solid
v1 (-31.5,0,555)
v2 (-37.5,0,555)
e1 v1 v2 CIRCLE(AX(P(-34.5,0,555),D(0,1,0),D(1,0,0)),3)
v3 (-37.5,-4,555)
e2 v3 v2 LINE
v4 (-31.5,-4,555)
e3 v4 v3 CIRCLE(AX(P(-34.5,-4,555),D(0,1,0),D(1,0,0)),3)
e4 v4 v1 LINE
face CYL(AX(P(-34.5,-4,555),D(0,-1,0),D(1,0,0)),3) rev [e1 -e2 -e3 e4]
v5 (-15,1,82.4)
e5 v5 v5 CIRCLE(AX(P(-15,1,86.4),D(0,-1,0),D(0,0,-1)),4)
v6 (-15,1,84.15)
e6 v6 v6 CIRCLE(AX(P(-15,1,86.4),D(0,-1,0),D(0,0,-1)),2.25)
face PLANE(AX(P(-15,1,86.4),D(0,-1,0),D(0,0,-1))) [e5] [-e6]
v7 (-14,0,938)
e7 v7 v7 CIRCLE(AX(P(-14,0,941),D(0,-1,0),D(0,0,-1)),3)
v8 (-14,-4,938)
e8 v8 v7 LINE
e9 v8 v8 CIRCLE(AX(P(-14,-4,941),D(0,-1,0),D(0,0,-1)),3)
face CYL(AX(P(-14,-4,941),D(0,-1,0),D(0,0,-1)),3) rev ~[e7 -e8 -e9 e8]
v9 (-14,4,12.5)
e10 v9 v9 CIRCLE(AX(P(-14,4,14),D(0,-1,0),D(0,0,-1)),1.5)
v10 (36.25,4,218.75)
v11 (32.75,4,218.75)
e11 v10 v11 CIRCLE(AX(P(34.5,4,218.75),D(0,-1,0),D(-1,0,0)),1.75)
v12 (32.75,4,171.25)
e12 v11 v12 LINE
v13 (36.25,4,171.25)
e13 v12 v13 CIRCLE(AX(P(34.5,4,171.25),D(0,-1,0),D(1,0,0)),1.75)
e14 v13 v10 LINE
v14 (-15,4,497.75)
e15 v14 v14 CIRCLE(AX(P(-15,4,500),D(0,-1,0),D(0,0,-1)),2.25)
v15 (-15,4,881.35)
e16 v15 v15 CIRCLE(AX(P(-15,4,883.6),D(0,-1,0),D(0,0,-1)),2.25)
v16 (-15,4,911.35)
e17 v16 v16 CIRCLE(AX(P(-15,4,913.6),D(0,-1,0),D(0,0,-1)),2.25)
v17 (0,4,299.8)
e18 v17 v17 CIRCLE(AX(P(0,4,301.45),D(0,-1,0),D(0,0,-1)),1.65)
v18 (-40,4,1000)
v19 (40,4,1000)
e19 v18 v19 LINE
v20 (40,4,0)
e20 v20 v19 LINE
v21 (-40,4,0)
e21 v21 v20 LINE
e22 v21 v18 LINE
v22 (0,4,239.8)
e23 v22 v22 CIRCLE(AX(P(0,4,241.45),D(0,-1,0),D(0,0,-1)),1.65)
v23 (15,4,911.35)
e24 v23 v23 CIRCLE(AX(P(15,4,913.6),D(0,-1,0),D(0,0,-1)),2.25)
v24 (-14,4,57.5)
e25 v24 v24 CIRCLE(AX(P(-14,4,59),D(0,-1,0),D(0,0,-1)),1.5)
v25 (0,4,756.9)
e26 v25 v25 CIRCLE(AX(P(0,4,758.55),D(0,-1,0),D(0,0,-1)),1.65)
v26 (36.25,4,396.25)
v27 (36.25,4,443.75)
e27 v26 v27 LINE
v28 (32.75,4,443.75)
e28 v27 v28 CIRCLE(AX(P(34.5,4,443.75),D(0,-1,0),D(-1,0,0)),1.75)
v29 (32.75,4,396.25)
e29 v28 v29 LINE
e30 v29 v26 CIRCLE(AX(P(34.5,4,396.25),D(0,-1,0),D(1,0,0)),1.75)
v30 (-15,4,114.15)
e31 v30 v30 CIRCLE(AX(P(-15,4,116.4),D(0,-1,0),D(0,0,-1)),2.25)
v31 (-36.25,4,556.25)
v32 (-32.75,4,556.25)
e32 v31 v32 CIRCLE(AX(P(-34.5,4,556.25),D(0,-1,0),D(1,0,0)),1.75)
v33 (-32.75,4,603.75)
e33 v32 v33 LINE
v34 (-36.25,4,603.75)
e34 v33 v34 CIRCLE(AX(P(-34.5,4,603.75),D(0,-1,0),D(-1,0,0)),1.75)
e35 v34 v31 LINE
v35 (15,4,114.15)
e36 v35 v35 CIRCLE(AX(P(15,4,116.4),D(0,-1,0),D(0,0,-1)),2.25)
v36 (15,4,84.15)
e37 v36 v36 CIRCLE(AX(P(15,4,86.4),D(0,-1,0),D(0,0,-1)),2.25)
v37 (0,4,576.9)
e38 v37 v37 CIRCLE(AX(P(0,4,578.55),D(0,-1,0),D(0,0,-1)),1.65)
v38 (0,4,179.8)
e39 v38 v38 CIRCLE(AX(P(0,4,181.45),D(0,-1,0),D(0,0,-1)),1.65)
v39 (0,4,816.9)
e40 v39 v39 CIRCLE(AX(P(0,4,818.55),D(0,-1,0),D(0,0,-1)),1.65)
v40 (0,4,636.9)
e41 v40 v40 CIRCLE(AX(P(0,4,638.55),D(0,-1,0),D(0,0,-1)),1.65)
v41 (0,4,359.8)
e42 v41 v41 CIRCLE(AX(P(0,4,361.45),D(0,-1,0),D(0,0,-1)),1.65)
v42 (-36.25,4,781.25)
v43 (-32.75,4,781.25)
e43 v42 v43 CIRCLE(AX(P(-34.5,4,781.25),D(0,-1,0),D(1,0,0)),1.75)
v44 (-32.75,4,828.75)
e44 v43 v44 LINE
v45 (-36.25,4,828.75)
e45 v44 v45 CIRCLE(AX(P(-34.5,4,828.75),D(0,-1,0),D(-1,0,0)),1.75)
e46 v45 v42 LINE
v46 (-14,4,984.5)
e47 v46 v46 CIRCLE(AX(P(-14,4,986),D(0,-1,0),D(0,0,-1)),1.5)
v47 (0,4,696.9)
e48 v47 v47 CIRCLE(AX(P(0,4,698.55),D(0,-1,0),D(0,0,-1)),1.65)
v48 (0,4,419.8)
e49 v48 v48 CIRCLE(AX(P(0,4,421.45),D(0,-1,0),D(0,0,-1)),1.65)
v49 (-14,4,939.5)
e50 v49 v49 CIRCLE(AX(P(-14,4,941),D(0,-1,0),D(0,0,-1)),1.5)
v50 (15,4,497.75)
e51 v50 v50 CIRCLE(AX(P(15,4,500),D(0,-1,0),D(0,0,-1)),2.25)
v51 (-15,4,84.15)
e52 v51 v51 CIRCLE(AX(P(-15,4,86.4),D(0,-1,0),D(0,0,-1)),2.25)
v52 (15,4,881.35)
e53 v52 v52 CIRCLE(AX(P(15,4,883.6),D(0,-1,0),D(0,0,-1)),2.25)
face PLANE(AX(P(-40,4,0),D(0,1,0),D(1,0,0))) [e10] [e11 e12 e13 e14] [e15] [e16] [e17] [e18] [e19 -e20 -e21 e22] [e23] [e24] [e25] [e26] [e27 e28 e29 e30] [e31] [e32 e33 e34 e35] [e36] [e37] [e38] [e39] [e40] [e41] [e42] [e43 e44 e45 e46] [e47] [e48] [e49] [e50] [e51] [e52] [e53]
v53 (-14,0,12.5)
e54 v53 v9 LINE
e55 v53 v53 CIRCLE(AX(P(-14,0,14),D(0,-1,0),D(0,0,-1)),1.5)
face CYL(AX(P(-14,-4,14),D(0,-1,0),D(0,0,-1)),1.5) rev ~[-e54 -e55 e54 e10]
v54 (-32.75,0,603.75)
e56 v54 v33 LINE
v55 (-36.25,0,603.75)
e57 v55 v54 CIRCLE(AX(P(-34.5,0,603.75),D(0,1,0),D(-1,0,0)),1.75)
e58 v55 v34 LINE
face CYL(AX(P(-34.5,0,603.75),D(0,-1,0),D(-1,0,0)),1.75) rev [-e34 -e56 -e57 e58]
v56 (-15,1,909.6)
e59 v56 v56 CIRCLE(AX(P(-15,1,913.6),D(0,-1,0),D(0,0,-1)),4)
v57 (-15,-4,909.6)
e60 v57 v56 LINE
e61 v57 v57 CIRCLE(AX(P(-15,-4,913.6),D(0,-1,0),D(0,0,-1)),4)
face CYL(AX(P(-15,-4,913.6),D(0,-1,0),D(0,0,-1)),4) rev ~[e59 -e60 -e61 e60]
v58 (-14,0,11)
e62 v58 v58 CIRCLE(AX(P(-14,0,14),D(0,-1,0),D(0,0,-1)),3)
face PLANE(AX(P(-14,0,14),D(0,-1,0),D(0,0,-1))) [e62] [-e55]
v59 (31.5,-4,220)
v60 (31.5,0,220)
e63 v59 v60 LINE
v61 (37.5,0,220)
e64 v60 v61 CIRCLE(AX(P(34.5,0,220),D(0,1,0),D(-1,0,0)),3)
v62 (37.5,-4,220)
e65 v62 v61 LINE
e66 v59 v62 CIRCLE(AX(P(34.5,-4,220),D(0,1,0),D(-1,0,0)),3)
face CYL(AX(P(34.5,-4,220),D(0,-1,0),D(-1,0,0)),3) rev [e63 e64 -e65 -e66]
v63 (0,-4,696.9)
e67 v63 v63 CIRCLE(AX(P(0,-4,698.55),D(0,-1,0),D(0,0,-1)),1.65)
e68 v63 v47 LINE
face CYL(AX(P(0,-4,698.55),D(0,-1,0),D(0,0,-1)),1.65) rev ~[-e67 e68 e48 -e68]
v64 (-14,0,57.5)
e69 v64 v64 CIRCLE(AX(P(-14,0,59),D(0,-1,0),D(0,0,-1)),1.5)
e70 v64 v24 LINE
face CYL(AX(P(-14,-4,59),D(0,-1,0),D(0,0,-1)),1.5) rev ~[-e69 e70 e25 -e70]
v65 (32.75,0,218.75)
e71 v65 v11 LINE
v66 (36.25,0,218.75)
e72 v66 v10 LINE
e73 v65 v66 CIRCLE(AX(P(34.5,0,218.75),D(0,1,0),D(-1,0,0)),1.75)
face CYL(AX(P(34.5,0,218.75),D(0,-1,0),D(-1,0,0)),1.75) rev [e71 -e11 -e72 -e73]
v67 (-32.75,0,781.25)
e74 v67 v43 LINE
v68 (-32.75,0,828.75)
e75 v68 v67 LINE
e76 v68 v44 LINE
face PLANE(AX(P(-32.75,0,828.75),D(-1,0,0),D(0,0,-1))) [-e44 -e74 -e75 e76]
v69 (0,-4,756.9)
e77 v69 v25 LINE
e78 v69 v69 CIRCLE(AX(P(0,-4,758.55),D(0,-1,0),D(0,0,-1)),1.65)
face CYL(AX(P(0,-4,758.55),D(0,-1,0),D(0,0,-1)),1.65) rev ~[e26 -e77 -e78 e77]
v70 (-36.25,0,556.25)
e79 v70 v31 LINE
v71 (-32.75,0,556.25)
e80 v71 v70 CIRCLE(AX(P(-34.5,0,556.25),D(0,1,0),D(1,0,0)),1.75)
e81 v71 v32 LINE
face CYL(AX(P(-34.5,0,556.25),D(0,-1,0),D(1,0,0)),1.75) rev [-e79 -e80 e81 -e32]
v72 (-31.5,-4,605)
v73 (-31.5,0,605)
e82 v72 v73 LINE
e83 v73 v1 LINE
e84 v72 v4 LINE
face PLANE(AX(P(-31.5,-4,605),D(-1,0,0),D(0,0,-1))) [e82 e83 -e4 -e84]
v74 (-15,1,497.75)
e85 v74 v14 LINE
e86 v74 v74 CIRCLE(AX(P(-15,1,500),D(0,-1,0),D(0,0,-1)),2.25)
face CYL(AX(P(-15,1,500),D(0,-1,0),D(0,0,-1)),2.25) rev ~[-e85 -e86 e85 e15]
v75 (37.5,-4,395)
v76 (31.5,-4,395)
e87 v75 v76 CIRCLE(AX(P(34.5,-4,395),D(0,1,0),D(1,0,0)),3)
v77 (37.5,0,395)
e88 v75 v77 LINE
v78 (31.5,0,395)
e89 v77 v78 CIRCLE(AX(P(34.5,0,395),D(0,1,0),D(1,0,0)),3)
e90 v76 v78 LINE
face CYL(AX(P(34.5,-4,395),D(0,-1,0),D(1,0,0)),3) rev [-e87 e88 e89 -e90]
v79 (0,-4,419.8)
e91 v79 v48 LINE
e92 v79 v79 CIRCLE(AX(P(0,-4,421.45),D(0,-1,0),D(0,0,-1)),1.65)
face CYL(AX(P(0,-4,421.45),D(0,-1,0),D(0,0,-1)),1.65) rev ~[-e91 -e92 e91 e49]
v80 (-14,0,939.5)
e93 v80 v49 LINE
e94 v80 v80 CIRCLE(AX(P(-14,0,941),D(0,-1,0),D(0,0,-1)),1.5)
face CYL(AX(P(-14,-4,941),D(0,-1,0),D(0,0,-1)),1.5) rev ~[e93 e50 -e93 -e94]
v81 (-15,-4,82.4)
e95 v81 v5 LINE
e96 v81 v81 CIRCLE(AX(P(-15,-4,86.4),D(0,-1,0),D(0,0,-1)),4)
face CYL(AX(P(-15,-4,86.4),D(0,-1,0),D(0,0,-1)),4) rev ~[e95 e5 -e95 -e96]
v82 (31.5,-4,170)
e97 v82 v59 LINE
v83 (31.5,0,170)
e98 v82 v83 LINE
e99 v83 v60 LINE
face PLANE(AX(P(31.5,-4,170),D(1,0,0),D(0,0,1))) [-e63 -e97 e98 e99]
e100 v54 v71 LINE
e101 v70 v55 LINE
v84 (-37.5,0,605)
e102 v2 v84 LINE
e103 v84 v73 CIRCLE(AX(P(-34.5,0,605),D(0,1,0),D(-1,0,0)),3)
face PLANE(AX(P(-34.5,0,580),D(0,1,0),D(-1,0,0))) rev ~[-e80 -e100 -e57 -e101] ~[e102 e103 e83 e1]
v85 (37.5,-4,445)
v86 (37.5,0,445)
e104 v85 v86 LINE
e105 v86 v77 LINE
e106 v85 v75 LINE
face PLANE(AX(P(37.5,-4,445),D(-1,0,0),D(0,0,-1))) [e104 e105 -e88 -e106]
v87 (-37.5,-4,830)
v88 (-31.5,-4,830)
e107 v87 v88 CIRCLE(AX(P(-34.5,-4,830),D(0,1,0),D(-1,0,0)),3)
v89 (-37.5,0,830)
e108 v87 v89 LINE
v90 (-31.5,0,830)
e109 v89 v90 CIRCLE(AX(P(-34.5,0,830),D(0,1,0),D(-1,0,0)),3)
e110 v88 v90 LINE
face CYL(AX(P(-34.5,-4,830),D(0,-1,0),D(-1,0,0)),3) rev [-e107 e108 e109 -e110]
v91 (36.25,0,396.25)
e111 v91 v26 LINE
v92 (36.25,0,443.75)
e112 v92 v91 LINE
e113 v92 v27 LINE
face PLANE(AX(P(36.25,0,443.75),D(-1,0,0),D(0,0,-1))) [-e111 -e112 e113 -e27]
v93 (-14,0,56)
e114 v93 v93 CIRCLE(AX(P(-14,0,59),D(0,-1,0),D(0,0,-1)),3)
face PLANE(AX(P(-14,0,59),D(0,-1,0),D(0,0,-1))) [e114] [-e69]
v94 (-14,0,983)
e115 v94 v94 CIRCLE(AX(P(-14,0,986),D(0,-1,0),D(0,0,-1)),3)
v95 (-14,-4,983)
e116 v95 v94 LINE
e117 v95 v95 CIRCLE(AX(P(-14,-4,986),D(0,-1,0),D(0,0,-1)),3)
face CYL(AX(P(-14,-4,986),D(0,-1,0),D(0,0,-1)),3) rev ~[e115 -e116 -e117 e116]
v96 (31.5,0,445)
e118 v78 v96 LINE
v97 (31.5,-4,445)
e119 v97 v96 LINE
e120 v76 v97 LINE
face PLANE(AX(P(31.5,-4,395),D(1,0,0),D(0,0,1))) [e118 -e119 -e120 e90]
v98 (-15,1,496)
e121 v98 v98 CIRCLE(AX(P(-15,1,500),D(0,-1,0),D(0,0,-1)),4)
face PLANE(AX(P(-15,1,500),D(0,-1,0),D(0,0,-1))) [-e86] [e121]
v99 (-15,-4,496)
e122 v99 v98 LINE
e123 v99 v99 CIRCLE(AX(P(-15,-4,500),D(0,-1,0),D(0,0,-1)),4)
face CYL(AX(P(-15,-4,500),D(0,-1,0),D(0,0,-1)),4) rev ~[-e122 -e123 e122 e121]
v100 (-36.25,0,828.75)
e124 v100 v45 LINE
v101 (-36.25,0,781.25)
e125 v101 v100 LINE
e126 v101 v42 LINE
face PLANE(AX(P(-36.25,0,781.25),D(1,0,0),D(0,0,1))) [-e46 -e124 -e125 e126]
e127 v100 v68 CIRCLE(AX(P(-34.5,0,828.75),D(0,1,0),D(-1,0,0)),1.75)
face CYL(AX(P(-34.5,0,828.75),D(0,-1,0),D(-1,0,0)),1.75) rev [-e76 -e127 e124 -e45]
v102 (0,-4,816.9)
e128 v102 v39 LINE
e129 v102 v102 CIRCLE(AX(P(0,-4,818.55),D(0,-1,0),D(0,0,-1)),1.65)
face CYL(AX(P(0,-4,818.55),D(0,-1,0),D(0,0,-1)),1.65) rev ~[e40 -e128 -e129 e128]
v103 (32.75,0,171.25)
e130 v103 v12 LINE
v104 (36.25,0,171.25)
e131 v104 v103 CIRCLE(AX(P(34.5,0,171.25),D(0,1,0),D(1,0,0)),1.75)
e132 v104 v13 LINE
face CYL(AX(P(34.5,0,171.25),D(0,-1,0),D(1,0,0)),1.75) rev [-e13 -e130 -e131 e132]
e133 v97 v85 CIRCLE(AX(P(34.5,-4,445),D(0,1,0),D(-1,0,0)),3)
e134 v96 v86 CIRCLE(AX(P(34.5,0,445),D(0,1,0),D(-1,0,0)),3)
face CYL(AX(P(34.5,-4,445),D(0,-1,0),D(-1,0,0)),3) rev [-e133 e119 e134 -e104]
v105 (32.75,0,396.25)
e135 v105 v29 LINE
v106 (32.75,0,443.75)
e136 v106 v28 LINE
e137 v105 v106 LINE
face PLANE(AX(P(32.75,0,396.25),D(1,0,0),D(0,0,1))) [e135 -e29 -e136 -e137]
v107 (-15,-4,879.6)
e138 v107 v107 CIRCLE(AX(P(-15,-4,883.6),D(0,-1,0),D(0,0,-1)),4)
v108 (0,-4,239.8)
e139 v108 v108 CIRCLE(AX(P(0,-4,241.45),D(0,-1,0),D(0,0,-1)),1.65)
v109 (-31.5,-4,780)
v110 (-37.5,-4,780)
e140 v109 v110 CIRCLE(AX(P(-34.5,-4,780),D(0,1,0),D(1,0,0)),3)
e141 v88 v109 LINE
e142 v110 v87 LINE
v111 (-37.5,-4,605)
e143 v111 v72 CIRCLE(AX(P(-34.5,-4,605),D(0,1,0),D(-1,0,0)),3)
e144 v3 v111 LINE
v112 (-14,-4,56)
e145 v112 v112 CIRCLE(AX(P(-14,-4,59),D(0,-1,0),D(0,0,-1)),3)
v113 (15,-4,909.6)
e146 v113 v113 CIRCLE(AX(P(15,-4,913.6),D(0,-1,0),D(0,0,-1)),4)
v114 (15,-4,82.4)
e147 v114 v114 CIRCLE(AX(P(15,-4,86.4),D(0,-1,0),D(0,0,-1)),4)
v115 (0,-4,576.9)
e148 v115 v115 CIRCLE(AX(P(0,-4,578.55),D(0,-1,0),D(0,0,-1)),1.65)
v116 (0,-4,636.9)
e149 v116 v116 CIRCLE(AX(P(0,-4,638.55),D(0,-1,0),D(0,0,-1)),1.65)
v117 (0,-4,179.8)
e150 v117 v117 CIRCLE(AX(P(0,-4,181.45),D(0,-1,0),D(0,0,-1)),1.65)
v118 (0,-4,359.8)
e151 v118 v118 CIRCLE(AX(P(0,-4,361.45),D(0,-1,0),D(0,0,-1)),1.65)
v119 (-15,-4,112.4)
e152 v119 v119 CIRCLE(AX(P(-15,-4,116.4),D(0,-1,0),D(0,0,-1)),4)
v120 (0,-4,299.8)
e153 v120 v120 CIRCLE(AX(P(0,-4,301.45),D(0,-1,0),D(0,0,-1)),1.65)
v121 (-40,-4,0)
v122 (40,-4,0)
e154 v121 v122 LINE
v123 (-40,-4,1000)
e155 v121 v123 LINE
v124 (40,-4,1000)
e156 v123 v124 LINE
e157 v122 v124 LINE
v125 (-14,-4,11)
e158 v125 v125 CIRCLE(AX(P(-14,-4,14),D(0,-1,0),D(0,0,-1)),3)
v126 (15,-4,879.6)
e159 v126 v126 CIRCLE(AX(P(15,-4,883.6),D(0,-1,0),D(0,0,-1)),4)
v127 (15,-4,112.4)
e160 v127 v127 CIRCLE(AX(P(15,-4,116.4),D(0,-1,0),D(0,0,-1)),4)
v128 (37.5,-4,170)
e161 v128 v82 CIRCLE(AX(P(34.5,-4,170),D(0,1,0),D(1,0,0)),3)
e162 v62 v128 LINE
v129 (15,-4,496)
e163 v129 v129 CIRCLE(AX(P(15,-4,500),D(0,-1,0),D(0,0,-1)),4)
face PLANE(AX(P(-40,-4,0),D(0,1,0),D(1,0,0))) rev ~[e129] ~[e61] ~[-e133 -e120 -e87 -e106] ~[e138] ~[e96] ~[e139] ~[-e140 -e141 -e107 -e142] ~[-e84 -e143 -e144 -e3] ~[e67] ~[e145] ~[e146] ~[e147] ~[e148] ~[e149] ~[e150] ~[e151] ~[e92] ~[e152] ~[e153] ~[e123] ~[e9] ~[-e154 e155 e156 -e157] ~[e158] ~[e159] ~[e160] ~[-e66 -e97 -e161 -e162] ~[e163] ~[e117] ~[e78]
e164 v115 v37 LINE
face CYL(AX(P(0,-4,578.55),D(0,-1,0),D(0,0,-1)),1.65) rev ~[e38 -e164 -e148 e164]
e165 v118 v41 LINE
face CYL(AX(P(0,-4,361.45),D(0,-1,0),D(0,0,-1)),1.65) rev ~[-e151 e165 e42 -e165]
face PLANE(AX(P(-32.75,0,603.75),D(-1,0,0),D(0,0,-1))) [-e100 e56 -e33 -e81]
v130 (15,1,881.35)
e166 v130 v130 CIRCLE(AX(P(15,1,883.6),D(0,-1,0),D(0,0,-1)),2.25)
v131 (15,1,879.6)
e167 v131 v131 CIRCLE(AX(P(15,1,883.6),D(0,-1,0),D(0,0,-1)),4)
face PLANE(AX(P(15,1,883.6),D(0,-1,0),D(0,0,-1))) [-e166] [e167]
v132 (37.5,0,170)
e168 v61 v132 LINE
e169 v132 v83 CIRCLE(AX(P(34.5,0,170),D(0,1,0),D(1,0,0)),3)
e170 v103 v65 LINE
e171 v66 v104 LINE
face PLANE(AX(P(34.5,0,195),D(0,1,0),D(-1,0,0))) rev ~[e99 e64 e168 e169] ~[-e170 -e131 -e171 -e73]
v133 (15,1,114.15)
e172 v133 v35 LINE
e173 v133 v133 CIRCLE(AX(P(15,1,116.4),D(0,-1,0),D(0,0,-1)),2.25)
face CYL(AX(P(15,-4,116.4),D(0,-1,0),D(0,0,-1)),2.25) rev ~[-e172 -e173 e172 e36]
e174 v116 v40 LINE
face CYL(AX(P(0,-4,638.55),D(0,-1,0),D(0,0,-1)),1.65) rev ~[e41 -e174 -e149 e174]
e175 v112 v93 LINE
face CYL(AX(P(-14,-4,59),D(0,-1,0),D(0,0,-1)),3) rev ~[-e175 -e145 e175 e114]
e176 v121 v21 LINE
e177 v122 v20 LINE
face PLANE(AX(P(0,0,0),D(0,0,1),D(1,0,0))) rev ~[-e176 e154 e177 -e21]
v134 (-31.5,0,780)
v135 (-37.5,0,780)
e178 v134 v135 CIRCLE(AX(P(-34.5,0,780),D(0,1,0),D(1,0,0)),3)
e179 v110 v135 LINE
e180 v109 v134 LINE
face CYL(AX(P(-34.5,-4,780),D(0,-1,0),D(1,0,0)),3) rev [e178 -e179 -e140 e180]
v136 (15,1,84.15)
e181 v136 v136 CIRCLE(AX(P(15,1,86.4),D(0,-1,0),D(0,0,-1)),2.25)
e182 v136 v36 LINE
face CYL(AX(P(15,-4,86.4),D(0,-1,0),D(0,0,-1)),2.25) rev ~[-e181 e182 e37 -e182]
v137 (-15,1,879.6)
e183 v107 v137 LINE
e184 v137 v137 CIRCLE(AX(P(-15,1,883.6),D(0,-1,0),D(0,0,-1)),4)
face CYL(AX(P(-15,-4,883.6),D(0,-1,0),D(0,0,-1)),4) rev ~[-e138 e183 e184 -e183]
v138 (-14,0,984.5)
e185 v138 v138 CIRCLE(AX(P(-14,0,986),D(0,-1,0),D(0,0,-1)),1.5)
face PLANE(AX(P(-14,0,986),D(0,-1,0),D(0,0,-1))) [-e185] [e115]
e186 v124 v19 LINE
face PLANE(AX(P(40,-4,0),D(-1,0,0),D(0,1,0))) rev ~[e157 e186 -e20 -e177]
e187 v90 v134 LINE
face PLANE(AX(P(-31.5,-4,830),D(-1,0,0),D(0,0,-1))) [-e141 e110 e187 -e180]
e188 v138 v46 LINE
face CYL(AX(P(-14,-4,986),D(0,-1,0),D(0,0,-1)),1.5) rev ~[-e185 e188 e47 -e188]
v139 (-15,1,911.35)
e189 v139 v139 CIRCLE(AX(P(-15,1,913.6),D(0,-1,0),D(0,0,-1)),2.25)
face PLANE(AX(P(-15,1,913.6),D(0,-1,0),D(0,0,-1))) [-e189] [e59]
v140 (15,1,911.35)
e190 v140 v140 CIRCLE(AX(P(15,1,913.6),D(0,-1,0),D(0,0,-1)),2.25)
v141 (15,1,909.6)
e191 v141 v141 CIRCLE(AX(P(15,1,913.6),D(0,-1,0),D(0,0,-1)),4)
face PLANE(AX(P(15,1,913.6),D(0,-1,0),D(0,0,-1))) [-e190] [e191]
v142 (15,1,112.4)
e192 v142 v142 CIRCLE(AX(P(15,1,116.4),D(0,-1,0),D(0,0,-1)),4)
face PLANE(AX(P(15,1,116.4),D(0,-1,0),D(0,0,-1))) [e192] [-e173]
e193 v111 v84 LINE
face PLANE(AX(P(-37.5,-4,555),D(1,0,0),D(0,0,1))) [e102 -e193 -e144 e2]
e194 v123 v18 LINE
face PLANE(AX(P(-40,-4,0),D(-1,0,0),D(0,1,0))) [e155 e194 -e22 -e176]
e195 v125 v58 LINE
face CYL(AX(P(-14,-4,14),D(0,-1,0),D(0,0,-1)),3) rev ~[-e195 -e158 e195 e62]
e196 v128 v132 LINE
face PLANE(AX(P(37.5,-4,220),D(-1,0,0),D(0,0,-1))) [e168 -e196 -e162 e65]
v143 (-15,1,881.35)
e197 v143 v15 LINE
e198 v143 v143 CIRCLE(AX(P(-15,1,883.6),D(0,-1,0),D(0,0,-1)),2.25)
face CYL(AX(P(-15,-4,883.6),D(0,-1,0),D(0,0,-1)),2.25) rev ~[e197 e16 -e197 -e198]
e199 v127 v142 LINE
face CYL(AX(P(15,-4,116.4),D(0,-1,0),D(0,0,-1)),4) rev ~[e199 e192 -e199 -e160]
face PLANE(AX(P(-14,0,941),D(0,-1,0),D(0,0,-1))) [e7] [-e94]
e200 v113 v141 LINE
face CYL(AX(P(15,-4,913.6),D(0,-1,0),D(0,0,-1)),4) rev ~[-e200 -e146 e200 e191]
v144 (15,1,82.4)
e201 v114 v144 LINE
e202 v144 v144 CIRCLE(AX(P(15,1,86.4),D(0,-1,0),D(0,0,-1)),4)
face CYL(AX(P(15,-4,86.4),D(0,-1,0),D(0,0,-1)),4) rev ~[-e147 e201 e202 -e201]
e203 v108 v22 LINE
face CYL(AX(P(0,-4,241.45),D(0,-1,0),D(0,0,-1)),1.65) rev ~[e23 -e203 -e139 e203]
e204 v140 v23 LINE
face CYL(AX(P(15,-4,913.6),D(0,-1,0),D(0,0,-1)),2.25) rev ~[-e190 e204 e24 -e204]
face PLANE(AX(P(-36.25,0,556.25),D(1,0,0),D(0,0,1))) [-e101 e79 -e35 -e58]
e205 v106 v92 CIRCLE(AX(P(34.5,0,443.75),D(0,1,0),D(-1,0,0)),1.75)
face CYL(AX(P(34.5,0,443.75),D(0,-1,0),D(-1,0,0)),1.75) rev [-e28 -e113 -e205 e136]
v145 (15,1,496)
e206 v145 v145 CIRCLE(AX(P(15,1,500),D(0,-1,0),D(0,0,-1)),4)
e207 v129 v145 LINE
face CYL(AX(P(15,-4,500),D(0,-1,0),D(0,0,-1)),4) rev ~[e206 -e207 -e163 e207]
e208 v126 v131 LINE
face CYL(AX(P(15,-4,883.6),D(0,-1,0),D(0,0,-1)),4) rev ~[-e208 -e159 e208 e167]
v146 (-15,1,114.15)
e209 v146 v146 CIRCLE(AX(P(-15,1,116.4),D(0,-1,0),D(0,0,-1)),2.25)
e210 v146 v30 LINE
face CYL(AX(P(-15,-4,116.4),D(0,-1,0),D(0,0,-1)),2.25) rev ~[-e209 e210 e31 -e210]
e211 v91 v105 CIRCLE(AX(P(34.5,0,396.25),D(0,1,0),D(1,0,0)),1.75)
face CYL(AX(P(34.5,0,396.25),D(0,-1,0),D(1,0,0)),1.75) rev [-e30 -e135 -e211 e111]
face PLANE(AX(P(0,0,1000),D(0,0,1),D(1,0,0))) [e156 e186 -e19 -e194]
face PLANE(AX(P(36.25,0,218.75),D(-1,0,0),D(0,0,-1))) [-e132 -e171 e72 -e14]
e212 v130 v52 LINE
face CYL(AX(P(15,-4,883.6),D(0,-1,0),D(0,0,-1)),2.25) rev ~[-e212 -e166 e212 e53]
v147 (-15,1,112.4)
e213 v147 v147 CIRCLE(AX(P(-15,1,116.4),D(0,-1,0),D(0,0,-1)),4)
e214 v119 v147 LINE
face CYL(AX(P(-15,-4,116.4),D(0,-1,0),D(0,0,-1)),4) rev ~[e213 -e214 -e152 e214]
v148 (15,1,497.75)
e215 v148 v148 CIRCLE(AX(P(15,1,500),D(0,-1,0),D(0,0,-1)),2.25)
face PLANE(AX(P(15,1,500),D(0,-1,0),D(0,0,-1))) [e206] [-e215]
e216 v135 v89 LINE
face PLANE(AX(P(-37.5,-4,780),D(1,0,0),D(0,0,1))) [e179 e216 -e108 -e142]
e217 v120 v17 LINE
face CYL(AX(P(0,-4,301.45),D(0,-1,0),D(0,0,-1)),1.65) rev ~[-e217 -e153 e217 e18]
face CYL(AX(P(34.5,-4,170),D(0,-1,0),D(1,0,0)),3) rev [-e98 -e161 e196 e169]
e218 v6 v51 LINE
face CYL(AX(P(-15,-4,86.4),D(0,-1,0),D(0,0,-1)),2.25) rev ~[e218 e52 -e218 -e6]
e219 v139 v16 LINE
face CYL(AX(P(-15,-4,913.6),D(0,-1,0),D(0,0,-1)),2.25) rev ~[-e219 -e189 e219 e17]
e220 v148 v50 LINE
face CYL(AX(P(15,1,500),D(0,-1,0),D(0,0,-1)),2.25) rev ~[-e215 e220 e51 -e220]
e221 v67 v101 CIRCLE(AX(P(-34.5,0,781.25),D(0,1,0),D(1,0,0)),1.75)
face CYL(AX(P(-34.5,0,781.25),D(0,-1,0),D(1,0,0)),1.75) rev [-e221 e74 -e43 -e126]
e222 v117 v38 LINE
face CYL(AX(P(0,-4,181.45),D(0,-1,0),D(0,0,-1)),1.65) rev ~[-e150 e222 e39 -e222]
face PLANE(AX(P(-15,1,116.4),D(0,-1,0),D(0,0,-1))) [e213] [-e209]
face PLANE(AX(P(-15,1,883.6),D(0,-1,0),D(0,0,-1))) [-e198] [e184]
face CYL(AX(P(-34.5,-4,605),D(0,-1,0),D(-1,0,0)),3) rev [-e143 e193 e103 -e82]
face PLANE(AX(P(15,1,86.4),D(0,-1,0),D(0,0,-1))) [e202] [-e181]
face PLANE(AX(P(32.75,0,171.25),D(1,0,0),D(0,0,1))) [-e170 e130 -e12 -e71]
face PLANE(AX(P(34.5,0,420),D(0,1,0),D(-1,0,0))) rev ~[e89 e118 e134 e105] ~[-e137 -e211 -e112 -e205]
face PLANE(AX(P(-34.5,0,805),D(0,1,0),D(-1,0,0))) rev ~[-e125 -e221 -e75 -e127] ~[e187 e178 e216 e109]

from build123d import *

# Parameters (mm, degrees)
SKETCH_1_W                  = 80
SKETCH_1_H                  = 8
EXTRUDE_1_DEPTH             = 1000
SKETCH_3_R                  = 4
CUT_EXTRUDE_1_DEPTH         = 5
SKETCH_4_R                  = 2.25
CUT_EXTRUDE_2_DEPTH         = 5
SKETCH_5_R                  = 2.25
CUT_EXTRUDE_3_DEPTH         = 8
PATTERN_LINEAR_1_COUNT      = 2
PATTERN_LINEAR_1_PITCH      = 30
PATTERN_LINEAR_1_COUNT_DIR2 = 2
PATTERN_LINEAR_1_PITCH_DIR2 = 30
SKETCH_6_R                  = 4
CUT_EXTRUDE_4_DEPTH         = 5
PATTERN_LINEAR_2_COUNT      = 2
PATTERN_LINEAR_2_PITCH      = 30
PATTERN_LINEAR_2_COUNT_DIR2 = 2
PATTERN_LINEAR_2_PITCH_DIR2 = 30
SKETCH_7_R                  = 2.25
CUT_EXTRUDE_5_DEPTH         = 8
PATTERN_LINEAR_3_COUNT      = 2
PATTERN_LINEAR_3_PITCH      = 30
PATTERN_LINEAR_3_COUNT_DIR2 = 2
PATTERN_LINEAR_3_PITCH_DIR2 = 30
SKETCH_8_R                  = 4
CUT_EXTRUDE_6_DEPTH         = 5
PATTERN_LINEAR_4_COUNT      = 2
PATTERN_LINEAR_4_PITCH      = 30
PATTERN_LINEAR_4_COUNT_DIR2 = 2
PATTERN_LINEAR_4_PITCH_DIR2 = 30
CUT_EXTRUDE_8_DEPTH         = 4
CUT_EXTRUDE_9_DEPTH         = 5
PATTERN_LINEAR_6_COUNT      = 2
PATTERN_LINEAR_6_PITCH      = 225
PATTERN_LINEAR_6_COL_COUNT  = 2
PATTERN_LINEAR_6_COL_PITCH  = 225
SKETCH_13_R                 = 1.5
CUT_EXTRUDE_10_DEPTH        = 8
SKETCH_14_R                 = 3
CUT_EXTRUDE_11_DEPTH        = 4
PATTERN_LINEAR_8_COUNT      = 2
PATTERN_LINEAR_8_PITCH      = 927
SKETCH_15_R                 = 1.65
CUT_EXTRUDE_12_DEPTH        = 10
PATTERN_LINEAR_9_COUNT      = 5
PATTERN_LINEAR_9_PITCH      = 60
SKETCH_16_R                 = 1.65
CUT_EXTRUDE_13_DEPTH        = 10
PATTERN_LINEAR_10_COUNT     = 5
PATTERN_LINEAR_10_PITCH     = 60


with BuildPart() as part:
    # Эскиз1 → Бобышка-Вытянуть1 (new body)
    with BuildSketch(Plane.XY):
        Rectangle(SKETCH_1_W, SKETCH_1_H)
    extrude(amount=EXTRUDE_1_DEPTH)

    # Эскиз3 → Вырез-Вытянуть1 (cut)
    with BuildSketch(Plane.XZ.offset(4)):
        with Locations(Location((15, 500, 0), (0, 0, 270))):
            Circle(SKETCH_3_R)
        with Locations(Location((-15, 500, 0), (0, 0, 270))):
            Circle(SKETCH_3_R)
    extrude(amount=-CUT_EXTRUDE_1_DEPTH, mode=Mode.SUBTRACT)

    # Эскиз4 → Вырез-Вытянуть2 (cut)
    with BuildSketch(Plane.XZ.offset(-1)):
        with Locations(Location((-15, 500, 0), (0, 0, 270))):
            Circle(SKETCH_4_R)
        with Locations(Location((15, 500, 0), (0, 0, 270))):
            Circle(SKETCH_4_R)
    extrude(amount=-CUT_EXTRUDE_2_DEPTH, mode=Mode.SUBTRACT)

    # Эскиз5 → Вырез-Вытянуть3 (cut)
    with BuildSketch(Plane.XZ.offset(4)):
        with Locations(Location((-15, 913.6, 0), (0, 0, 270))):
            Circle(SKETCH_5_R)
    cut_extrude_3 = extrude(amount=-CUT_EXTRUDE_3_DEPTH, mode=Mode.SUBTRACT)

    # Линейный массив1: Cut-Extrude 3 2 × 2
    with Locations(*[(i * PATTERN_LINEAR_1_PITCH, 0, -j * PATTERN_LINEAR_1_PITCH_DIR2) for i in range(PATTERN_LINEAR_1_COUNT) for j in range(PATTERN_LINEAR_1_COUNT_DIR2) if (i, j) != (0, 0)]):
        add(cut_extrude_3, mode=Mode.SUBTRACT)

    # Эскиз6 → Вырез-Вытянуть4 (cut)
    with BuildSketch(Plane.XZ.offset(4)):
        with Locations(Location((-15, 913.6, 0), (0, 0, 270))):
            Circle(SKETCH_6_R)
    cut_extrude_4 = extrude(amount=-CUT_EXTRUDE_4_DEPTH, mode=Mode.SUBTRACT)

    # Линейный массив2: Cut-Extrude 4 2 × 2
    with Locations(*[(i * PATTERN_LINEAR_2_PITCH, 0, -j * PATTERN_LINEAR_2_PITCH_DIR2) for i in range(PATTERN_LINEAR_2_COUNT) for j in range(PATTERN_LINEAR_2_COUNT_DIR2) if (i, j) != (0, 0)]):
        add(cut_extrude_4, mode=Mode.SUBTRACT)

    # Эскиз7 → Вырез-Вытянуть5 (cut)
    with BuildSketch(Plane.XZ.offset(4)):
        with Locations(Location((-15, 86.4, 0), (0, 0, 270))):
            Circle(SKETCH_7_R)
    cut_extrude_5 = extrude(amount=-CUT_EXTRUDE_5_DEPTH, mode=Mode.SUBTRACT)

    # Линейный массив3: Cut-Extrude 5 2 × 2
    with Locations(*[(i * PATTERN_LINEAR_3_PITCH, 0, j * PATTERN_LINEAR_3_PITCH_DIR2) for i in range(PATTERN_LINEAR_3_COUNT) for j in range(PATTERN_LINEAR_3_COUNT_DIR2) if (i, j) != (0, 0)]):
        add(cut_extrude_5, mode=Mode.SUBTRACT)

    # Эскиз8 → Вырез-Вытянуть6 (cut)
    with BuildSketch(Plane.XZ.offset(4)):
        with Locations(Location((-15, 86.4, 0), (0, 0, 270))):
            Circle(SKETCH_8_R)
    cut_extrude_6 = extrude(amount=-CUT_EXTRUDE_6_DEPTH, mode=Mode.SUBTRACT)

    # Линейный массив4: Cut-Extrude 6 2 × 2
    with Locations(*[(i * PATTERN_LINEAR_4_PITCH, 0, j * PATTERN_LINEAR_4_PITCH_DIR2) for i in range(PATTERN_LINEAR_4_COUNT) for j in range(PATTERN_LINEAR_4_COUNT_DIR2) if (i, j) != (0, 0)]):
        add(cut_extrude_6, mode=Mode.SUBTRACT)

    # Эскиз11 → Вырез-Вытянуть8 (cut)
    with BuildSketch(Plane.XZ.offset(4)):
        with BuildLine():
            Line((37.5, 220), (37.5, 170))
            ThreePointArc((37.5, 170), (34.5, 167), (31.5, 170))
            Line((31.5, 170), (31.5, 220))
            ThreePointArc((31.5, 220), (34.5, 223), (37.5, 220))
        make_face()
        with BuildLine():
            Line((-31.5, 830), (-31.5, 780))
            ThreePointArc((-31.5, 780), (-34.5, 777), (-37.5, 780))
            Line((-37.5, 780), (-37.5, 830))
            ThreePointArc((-37.5, 830), (-34.5, 833), (-31.5, 830))
        make_face()
    cut_extrude_8 = extrude(amount=-CUT_EXTRUDE_8_DEPTH, mode=Mode.SUBTRACT)

    # Эскиз12 → Вырез-Вытянуть9 (cut)
    with BuildSketch(Plane(origin=(0, 0, 0), x_dir=(-1, 0, 0), z_dir=(0, -1, 0))):
        with BuildLine():
            Line((-36.25, -218.75), (-36.25, -171.25))
            ThreePointArc((-36.25, -171.25), (-34.5, -169.5), (-32.75, -171.25))
            Line((-32.75, -171.25), (-32.75, -218.75))
            ThreePointArc((-32.75, -218.75), (-34.5, -220.5), (-36.25, -218.75))
        make_face()
        with BuildLine():
            Line((32.75, -828.75), (32.75, -781.25))
            ThreePointArc((32.75, -781.25), (34.5, -779.5), (36.25, -781.25))
            Line((36.25, -781.25), (36.25, -828.75))
            ThreePointArc((36.25, -828.75), (34.5, -830.5), (32.75, -828.75))
        make_face()
    cut_extrude_9 = extrude(amount=-CUT_EXTRUDE_9_DEPTH, mode=Mode.SUBTRACT)

    # Линейный массив6: Вырез-Вытянуть8, Вырез-Вытянуть9 ×2
    with Locations(*[(0, 0, i * PATTERN_LINEAR_6_PITCH) for i in range(1, PATTERN_LINEAR_6_COUNT)]):
        add(cut_extrude_8, mode=Mode.SUBTRACT)
        add(cut_extrude_9, mode=Mode.SUBTRACT)

    # Линейный массив6 col: Вырез-Вытянуть8, Вырез-Вытянуть9 ×2
    with Locations(*[(0, 0, -i * PATTERN_LINEAR_6_COL_PITCH) for i in range(1, PATTERN_LINEAR_6_COL_COUNT)]):
        add(cut_extrude_8, mode=Mode.SUBTRACT)
        add(cut_extrude_9, mode=Mode.SUBTRACT)

    # Эскиз13 → Вырез-Вытянуть10 (cut)
    with BuildSketch(Plane.XZ.offset(4)):
        with Locations(Location((-14, 59, 0), (0, 0, 270))):
            Circle(SKETCH_13_R)
        with Locations(Location((-14, 14, 0), (0, 0, 270))):
            Circle(SKETCH_13_R)
    cut_extrude_10 = extrude(amount=-CUT_EXTRUDE_10_DEPTH, mode=Mode.SUBTRACT)

    # Эскиз14 → Вырез-Вытянуть11 (cut)
    with BuildSketch(Plane.XZ.offset(4)):
        with Locations(Location((-14, 59, 0), (0, 0, 270))):
            Circle(SKETCH_14_R)
        with Locations(Location((-14, 14, 0), (0, 0, 270))):
            Circle(SKETCH_14_R)
    cut_extrude_11 = extrude(amount=-CUT_EXTRUDE_11_DEPTH, mode=Mode.SUBTRACT)

    # Линейный массив8: Вырез-Вытянуть10, Вырез-Вытянуть11 ×2
    with Locations(*[(0, 0, i * PATTERN_LINEAR_8_PITCH) for i in range(1, PATTERN_LINEAR_8_COUNT)]):
        add(cut_extrude_10, mode=Mode.SUBTRACT)
        add(cut_extrude_11, mode=Mode.SUBTRACT)

    # Эскиз15 → Вырез-Вытянуть12 (cut)
    with BuildSketch(Plane.XZ.offset(4)):
        with Locations(Location((0, 421.45, 0), (0, 0, 270))):
            Circle(SKETCH_15_R)
    cut_extrude_12 = extrude(amount=-CUT_EXTRUDE_12_DEPTH, mode=Mode.SUBTRACT)

    # Линейный массив9: Вырез-Вытянуть12 ×5
    with Locations(*[(0, 0, -i * PATTERN_LINEAR_9_PITCH) for i in range(1, PATTERN_LINEAR_9_COUNT)]):
        add(cut_extrude_12, mode=Mode.SUBTRACT)

    # Эскиз16 → Вырез-Вытянуть13 (cut)
    with BuildSketch(Plane.XZ.offset(4)):
        with Locations(Location((0, 578.55, 0), (0, 0, 270))):
            Circle(SKETCH_16_R)
    cut_extrude_13 = extrude(amount=-CUT_EXTRUDE_13_DEPTH, mode=Mode.SUBTRACT)

    # Линейный массив10: Вырез-Вытянуть13 ×5
    with Locations(*[(0, 0, i * PATTERN_LINEAR_10_PITCH) for i in range(1, PATTERN_LINEAR_10_COUNT)]):
        add(cut_extrude_13, mode=Mode.SUBTRACT)


solid = part.part
